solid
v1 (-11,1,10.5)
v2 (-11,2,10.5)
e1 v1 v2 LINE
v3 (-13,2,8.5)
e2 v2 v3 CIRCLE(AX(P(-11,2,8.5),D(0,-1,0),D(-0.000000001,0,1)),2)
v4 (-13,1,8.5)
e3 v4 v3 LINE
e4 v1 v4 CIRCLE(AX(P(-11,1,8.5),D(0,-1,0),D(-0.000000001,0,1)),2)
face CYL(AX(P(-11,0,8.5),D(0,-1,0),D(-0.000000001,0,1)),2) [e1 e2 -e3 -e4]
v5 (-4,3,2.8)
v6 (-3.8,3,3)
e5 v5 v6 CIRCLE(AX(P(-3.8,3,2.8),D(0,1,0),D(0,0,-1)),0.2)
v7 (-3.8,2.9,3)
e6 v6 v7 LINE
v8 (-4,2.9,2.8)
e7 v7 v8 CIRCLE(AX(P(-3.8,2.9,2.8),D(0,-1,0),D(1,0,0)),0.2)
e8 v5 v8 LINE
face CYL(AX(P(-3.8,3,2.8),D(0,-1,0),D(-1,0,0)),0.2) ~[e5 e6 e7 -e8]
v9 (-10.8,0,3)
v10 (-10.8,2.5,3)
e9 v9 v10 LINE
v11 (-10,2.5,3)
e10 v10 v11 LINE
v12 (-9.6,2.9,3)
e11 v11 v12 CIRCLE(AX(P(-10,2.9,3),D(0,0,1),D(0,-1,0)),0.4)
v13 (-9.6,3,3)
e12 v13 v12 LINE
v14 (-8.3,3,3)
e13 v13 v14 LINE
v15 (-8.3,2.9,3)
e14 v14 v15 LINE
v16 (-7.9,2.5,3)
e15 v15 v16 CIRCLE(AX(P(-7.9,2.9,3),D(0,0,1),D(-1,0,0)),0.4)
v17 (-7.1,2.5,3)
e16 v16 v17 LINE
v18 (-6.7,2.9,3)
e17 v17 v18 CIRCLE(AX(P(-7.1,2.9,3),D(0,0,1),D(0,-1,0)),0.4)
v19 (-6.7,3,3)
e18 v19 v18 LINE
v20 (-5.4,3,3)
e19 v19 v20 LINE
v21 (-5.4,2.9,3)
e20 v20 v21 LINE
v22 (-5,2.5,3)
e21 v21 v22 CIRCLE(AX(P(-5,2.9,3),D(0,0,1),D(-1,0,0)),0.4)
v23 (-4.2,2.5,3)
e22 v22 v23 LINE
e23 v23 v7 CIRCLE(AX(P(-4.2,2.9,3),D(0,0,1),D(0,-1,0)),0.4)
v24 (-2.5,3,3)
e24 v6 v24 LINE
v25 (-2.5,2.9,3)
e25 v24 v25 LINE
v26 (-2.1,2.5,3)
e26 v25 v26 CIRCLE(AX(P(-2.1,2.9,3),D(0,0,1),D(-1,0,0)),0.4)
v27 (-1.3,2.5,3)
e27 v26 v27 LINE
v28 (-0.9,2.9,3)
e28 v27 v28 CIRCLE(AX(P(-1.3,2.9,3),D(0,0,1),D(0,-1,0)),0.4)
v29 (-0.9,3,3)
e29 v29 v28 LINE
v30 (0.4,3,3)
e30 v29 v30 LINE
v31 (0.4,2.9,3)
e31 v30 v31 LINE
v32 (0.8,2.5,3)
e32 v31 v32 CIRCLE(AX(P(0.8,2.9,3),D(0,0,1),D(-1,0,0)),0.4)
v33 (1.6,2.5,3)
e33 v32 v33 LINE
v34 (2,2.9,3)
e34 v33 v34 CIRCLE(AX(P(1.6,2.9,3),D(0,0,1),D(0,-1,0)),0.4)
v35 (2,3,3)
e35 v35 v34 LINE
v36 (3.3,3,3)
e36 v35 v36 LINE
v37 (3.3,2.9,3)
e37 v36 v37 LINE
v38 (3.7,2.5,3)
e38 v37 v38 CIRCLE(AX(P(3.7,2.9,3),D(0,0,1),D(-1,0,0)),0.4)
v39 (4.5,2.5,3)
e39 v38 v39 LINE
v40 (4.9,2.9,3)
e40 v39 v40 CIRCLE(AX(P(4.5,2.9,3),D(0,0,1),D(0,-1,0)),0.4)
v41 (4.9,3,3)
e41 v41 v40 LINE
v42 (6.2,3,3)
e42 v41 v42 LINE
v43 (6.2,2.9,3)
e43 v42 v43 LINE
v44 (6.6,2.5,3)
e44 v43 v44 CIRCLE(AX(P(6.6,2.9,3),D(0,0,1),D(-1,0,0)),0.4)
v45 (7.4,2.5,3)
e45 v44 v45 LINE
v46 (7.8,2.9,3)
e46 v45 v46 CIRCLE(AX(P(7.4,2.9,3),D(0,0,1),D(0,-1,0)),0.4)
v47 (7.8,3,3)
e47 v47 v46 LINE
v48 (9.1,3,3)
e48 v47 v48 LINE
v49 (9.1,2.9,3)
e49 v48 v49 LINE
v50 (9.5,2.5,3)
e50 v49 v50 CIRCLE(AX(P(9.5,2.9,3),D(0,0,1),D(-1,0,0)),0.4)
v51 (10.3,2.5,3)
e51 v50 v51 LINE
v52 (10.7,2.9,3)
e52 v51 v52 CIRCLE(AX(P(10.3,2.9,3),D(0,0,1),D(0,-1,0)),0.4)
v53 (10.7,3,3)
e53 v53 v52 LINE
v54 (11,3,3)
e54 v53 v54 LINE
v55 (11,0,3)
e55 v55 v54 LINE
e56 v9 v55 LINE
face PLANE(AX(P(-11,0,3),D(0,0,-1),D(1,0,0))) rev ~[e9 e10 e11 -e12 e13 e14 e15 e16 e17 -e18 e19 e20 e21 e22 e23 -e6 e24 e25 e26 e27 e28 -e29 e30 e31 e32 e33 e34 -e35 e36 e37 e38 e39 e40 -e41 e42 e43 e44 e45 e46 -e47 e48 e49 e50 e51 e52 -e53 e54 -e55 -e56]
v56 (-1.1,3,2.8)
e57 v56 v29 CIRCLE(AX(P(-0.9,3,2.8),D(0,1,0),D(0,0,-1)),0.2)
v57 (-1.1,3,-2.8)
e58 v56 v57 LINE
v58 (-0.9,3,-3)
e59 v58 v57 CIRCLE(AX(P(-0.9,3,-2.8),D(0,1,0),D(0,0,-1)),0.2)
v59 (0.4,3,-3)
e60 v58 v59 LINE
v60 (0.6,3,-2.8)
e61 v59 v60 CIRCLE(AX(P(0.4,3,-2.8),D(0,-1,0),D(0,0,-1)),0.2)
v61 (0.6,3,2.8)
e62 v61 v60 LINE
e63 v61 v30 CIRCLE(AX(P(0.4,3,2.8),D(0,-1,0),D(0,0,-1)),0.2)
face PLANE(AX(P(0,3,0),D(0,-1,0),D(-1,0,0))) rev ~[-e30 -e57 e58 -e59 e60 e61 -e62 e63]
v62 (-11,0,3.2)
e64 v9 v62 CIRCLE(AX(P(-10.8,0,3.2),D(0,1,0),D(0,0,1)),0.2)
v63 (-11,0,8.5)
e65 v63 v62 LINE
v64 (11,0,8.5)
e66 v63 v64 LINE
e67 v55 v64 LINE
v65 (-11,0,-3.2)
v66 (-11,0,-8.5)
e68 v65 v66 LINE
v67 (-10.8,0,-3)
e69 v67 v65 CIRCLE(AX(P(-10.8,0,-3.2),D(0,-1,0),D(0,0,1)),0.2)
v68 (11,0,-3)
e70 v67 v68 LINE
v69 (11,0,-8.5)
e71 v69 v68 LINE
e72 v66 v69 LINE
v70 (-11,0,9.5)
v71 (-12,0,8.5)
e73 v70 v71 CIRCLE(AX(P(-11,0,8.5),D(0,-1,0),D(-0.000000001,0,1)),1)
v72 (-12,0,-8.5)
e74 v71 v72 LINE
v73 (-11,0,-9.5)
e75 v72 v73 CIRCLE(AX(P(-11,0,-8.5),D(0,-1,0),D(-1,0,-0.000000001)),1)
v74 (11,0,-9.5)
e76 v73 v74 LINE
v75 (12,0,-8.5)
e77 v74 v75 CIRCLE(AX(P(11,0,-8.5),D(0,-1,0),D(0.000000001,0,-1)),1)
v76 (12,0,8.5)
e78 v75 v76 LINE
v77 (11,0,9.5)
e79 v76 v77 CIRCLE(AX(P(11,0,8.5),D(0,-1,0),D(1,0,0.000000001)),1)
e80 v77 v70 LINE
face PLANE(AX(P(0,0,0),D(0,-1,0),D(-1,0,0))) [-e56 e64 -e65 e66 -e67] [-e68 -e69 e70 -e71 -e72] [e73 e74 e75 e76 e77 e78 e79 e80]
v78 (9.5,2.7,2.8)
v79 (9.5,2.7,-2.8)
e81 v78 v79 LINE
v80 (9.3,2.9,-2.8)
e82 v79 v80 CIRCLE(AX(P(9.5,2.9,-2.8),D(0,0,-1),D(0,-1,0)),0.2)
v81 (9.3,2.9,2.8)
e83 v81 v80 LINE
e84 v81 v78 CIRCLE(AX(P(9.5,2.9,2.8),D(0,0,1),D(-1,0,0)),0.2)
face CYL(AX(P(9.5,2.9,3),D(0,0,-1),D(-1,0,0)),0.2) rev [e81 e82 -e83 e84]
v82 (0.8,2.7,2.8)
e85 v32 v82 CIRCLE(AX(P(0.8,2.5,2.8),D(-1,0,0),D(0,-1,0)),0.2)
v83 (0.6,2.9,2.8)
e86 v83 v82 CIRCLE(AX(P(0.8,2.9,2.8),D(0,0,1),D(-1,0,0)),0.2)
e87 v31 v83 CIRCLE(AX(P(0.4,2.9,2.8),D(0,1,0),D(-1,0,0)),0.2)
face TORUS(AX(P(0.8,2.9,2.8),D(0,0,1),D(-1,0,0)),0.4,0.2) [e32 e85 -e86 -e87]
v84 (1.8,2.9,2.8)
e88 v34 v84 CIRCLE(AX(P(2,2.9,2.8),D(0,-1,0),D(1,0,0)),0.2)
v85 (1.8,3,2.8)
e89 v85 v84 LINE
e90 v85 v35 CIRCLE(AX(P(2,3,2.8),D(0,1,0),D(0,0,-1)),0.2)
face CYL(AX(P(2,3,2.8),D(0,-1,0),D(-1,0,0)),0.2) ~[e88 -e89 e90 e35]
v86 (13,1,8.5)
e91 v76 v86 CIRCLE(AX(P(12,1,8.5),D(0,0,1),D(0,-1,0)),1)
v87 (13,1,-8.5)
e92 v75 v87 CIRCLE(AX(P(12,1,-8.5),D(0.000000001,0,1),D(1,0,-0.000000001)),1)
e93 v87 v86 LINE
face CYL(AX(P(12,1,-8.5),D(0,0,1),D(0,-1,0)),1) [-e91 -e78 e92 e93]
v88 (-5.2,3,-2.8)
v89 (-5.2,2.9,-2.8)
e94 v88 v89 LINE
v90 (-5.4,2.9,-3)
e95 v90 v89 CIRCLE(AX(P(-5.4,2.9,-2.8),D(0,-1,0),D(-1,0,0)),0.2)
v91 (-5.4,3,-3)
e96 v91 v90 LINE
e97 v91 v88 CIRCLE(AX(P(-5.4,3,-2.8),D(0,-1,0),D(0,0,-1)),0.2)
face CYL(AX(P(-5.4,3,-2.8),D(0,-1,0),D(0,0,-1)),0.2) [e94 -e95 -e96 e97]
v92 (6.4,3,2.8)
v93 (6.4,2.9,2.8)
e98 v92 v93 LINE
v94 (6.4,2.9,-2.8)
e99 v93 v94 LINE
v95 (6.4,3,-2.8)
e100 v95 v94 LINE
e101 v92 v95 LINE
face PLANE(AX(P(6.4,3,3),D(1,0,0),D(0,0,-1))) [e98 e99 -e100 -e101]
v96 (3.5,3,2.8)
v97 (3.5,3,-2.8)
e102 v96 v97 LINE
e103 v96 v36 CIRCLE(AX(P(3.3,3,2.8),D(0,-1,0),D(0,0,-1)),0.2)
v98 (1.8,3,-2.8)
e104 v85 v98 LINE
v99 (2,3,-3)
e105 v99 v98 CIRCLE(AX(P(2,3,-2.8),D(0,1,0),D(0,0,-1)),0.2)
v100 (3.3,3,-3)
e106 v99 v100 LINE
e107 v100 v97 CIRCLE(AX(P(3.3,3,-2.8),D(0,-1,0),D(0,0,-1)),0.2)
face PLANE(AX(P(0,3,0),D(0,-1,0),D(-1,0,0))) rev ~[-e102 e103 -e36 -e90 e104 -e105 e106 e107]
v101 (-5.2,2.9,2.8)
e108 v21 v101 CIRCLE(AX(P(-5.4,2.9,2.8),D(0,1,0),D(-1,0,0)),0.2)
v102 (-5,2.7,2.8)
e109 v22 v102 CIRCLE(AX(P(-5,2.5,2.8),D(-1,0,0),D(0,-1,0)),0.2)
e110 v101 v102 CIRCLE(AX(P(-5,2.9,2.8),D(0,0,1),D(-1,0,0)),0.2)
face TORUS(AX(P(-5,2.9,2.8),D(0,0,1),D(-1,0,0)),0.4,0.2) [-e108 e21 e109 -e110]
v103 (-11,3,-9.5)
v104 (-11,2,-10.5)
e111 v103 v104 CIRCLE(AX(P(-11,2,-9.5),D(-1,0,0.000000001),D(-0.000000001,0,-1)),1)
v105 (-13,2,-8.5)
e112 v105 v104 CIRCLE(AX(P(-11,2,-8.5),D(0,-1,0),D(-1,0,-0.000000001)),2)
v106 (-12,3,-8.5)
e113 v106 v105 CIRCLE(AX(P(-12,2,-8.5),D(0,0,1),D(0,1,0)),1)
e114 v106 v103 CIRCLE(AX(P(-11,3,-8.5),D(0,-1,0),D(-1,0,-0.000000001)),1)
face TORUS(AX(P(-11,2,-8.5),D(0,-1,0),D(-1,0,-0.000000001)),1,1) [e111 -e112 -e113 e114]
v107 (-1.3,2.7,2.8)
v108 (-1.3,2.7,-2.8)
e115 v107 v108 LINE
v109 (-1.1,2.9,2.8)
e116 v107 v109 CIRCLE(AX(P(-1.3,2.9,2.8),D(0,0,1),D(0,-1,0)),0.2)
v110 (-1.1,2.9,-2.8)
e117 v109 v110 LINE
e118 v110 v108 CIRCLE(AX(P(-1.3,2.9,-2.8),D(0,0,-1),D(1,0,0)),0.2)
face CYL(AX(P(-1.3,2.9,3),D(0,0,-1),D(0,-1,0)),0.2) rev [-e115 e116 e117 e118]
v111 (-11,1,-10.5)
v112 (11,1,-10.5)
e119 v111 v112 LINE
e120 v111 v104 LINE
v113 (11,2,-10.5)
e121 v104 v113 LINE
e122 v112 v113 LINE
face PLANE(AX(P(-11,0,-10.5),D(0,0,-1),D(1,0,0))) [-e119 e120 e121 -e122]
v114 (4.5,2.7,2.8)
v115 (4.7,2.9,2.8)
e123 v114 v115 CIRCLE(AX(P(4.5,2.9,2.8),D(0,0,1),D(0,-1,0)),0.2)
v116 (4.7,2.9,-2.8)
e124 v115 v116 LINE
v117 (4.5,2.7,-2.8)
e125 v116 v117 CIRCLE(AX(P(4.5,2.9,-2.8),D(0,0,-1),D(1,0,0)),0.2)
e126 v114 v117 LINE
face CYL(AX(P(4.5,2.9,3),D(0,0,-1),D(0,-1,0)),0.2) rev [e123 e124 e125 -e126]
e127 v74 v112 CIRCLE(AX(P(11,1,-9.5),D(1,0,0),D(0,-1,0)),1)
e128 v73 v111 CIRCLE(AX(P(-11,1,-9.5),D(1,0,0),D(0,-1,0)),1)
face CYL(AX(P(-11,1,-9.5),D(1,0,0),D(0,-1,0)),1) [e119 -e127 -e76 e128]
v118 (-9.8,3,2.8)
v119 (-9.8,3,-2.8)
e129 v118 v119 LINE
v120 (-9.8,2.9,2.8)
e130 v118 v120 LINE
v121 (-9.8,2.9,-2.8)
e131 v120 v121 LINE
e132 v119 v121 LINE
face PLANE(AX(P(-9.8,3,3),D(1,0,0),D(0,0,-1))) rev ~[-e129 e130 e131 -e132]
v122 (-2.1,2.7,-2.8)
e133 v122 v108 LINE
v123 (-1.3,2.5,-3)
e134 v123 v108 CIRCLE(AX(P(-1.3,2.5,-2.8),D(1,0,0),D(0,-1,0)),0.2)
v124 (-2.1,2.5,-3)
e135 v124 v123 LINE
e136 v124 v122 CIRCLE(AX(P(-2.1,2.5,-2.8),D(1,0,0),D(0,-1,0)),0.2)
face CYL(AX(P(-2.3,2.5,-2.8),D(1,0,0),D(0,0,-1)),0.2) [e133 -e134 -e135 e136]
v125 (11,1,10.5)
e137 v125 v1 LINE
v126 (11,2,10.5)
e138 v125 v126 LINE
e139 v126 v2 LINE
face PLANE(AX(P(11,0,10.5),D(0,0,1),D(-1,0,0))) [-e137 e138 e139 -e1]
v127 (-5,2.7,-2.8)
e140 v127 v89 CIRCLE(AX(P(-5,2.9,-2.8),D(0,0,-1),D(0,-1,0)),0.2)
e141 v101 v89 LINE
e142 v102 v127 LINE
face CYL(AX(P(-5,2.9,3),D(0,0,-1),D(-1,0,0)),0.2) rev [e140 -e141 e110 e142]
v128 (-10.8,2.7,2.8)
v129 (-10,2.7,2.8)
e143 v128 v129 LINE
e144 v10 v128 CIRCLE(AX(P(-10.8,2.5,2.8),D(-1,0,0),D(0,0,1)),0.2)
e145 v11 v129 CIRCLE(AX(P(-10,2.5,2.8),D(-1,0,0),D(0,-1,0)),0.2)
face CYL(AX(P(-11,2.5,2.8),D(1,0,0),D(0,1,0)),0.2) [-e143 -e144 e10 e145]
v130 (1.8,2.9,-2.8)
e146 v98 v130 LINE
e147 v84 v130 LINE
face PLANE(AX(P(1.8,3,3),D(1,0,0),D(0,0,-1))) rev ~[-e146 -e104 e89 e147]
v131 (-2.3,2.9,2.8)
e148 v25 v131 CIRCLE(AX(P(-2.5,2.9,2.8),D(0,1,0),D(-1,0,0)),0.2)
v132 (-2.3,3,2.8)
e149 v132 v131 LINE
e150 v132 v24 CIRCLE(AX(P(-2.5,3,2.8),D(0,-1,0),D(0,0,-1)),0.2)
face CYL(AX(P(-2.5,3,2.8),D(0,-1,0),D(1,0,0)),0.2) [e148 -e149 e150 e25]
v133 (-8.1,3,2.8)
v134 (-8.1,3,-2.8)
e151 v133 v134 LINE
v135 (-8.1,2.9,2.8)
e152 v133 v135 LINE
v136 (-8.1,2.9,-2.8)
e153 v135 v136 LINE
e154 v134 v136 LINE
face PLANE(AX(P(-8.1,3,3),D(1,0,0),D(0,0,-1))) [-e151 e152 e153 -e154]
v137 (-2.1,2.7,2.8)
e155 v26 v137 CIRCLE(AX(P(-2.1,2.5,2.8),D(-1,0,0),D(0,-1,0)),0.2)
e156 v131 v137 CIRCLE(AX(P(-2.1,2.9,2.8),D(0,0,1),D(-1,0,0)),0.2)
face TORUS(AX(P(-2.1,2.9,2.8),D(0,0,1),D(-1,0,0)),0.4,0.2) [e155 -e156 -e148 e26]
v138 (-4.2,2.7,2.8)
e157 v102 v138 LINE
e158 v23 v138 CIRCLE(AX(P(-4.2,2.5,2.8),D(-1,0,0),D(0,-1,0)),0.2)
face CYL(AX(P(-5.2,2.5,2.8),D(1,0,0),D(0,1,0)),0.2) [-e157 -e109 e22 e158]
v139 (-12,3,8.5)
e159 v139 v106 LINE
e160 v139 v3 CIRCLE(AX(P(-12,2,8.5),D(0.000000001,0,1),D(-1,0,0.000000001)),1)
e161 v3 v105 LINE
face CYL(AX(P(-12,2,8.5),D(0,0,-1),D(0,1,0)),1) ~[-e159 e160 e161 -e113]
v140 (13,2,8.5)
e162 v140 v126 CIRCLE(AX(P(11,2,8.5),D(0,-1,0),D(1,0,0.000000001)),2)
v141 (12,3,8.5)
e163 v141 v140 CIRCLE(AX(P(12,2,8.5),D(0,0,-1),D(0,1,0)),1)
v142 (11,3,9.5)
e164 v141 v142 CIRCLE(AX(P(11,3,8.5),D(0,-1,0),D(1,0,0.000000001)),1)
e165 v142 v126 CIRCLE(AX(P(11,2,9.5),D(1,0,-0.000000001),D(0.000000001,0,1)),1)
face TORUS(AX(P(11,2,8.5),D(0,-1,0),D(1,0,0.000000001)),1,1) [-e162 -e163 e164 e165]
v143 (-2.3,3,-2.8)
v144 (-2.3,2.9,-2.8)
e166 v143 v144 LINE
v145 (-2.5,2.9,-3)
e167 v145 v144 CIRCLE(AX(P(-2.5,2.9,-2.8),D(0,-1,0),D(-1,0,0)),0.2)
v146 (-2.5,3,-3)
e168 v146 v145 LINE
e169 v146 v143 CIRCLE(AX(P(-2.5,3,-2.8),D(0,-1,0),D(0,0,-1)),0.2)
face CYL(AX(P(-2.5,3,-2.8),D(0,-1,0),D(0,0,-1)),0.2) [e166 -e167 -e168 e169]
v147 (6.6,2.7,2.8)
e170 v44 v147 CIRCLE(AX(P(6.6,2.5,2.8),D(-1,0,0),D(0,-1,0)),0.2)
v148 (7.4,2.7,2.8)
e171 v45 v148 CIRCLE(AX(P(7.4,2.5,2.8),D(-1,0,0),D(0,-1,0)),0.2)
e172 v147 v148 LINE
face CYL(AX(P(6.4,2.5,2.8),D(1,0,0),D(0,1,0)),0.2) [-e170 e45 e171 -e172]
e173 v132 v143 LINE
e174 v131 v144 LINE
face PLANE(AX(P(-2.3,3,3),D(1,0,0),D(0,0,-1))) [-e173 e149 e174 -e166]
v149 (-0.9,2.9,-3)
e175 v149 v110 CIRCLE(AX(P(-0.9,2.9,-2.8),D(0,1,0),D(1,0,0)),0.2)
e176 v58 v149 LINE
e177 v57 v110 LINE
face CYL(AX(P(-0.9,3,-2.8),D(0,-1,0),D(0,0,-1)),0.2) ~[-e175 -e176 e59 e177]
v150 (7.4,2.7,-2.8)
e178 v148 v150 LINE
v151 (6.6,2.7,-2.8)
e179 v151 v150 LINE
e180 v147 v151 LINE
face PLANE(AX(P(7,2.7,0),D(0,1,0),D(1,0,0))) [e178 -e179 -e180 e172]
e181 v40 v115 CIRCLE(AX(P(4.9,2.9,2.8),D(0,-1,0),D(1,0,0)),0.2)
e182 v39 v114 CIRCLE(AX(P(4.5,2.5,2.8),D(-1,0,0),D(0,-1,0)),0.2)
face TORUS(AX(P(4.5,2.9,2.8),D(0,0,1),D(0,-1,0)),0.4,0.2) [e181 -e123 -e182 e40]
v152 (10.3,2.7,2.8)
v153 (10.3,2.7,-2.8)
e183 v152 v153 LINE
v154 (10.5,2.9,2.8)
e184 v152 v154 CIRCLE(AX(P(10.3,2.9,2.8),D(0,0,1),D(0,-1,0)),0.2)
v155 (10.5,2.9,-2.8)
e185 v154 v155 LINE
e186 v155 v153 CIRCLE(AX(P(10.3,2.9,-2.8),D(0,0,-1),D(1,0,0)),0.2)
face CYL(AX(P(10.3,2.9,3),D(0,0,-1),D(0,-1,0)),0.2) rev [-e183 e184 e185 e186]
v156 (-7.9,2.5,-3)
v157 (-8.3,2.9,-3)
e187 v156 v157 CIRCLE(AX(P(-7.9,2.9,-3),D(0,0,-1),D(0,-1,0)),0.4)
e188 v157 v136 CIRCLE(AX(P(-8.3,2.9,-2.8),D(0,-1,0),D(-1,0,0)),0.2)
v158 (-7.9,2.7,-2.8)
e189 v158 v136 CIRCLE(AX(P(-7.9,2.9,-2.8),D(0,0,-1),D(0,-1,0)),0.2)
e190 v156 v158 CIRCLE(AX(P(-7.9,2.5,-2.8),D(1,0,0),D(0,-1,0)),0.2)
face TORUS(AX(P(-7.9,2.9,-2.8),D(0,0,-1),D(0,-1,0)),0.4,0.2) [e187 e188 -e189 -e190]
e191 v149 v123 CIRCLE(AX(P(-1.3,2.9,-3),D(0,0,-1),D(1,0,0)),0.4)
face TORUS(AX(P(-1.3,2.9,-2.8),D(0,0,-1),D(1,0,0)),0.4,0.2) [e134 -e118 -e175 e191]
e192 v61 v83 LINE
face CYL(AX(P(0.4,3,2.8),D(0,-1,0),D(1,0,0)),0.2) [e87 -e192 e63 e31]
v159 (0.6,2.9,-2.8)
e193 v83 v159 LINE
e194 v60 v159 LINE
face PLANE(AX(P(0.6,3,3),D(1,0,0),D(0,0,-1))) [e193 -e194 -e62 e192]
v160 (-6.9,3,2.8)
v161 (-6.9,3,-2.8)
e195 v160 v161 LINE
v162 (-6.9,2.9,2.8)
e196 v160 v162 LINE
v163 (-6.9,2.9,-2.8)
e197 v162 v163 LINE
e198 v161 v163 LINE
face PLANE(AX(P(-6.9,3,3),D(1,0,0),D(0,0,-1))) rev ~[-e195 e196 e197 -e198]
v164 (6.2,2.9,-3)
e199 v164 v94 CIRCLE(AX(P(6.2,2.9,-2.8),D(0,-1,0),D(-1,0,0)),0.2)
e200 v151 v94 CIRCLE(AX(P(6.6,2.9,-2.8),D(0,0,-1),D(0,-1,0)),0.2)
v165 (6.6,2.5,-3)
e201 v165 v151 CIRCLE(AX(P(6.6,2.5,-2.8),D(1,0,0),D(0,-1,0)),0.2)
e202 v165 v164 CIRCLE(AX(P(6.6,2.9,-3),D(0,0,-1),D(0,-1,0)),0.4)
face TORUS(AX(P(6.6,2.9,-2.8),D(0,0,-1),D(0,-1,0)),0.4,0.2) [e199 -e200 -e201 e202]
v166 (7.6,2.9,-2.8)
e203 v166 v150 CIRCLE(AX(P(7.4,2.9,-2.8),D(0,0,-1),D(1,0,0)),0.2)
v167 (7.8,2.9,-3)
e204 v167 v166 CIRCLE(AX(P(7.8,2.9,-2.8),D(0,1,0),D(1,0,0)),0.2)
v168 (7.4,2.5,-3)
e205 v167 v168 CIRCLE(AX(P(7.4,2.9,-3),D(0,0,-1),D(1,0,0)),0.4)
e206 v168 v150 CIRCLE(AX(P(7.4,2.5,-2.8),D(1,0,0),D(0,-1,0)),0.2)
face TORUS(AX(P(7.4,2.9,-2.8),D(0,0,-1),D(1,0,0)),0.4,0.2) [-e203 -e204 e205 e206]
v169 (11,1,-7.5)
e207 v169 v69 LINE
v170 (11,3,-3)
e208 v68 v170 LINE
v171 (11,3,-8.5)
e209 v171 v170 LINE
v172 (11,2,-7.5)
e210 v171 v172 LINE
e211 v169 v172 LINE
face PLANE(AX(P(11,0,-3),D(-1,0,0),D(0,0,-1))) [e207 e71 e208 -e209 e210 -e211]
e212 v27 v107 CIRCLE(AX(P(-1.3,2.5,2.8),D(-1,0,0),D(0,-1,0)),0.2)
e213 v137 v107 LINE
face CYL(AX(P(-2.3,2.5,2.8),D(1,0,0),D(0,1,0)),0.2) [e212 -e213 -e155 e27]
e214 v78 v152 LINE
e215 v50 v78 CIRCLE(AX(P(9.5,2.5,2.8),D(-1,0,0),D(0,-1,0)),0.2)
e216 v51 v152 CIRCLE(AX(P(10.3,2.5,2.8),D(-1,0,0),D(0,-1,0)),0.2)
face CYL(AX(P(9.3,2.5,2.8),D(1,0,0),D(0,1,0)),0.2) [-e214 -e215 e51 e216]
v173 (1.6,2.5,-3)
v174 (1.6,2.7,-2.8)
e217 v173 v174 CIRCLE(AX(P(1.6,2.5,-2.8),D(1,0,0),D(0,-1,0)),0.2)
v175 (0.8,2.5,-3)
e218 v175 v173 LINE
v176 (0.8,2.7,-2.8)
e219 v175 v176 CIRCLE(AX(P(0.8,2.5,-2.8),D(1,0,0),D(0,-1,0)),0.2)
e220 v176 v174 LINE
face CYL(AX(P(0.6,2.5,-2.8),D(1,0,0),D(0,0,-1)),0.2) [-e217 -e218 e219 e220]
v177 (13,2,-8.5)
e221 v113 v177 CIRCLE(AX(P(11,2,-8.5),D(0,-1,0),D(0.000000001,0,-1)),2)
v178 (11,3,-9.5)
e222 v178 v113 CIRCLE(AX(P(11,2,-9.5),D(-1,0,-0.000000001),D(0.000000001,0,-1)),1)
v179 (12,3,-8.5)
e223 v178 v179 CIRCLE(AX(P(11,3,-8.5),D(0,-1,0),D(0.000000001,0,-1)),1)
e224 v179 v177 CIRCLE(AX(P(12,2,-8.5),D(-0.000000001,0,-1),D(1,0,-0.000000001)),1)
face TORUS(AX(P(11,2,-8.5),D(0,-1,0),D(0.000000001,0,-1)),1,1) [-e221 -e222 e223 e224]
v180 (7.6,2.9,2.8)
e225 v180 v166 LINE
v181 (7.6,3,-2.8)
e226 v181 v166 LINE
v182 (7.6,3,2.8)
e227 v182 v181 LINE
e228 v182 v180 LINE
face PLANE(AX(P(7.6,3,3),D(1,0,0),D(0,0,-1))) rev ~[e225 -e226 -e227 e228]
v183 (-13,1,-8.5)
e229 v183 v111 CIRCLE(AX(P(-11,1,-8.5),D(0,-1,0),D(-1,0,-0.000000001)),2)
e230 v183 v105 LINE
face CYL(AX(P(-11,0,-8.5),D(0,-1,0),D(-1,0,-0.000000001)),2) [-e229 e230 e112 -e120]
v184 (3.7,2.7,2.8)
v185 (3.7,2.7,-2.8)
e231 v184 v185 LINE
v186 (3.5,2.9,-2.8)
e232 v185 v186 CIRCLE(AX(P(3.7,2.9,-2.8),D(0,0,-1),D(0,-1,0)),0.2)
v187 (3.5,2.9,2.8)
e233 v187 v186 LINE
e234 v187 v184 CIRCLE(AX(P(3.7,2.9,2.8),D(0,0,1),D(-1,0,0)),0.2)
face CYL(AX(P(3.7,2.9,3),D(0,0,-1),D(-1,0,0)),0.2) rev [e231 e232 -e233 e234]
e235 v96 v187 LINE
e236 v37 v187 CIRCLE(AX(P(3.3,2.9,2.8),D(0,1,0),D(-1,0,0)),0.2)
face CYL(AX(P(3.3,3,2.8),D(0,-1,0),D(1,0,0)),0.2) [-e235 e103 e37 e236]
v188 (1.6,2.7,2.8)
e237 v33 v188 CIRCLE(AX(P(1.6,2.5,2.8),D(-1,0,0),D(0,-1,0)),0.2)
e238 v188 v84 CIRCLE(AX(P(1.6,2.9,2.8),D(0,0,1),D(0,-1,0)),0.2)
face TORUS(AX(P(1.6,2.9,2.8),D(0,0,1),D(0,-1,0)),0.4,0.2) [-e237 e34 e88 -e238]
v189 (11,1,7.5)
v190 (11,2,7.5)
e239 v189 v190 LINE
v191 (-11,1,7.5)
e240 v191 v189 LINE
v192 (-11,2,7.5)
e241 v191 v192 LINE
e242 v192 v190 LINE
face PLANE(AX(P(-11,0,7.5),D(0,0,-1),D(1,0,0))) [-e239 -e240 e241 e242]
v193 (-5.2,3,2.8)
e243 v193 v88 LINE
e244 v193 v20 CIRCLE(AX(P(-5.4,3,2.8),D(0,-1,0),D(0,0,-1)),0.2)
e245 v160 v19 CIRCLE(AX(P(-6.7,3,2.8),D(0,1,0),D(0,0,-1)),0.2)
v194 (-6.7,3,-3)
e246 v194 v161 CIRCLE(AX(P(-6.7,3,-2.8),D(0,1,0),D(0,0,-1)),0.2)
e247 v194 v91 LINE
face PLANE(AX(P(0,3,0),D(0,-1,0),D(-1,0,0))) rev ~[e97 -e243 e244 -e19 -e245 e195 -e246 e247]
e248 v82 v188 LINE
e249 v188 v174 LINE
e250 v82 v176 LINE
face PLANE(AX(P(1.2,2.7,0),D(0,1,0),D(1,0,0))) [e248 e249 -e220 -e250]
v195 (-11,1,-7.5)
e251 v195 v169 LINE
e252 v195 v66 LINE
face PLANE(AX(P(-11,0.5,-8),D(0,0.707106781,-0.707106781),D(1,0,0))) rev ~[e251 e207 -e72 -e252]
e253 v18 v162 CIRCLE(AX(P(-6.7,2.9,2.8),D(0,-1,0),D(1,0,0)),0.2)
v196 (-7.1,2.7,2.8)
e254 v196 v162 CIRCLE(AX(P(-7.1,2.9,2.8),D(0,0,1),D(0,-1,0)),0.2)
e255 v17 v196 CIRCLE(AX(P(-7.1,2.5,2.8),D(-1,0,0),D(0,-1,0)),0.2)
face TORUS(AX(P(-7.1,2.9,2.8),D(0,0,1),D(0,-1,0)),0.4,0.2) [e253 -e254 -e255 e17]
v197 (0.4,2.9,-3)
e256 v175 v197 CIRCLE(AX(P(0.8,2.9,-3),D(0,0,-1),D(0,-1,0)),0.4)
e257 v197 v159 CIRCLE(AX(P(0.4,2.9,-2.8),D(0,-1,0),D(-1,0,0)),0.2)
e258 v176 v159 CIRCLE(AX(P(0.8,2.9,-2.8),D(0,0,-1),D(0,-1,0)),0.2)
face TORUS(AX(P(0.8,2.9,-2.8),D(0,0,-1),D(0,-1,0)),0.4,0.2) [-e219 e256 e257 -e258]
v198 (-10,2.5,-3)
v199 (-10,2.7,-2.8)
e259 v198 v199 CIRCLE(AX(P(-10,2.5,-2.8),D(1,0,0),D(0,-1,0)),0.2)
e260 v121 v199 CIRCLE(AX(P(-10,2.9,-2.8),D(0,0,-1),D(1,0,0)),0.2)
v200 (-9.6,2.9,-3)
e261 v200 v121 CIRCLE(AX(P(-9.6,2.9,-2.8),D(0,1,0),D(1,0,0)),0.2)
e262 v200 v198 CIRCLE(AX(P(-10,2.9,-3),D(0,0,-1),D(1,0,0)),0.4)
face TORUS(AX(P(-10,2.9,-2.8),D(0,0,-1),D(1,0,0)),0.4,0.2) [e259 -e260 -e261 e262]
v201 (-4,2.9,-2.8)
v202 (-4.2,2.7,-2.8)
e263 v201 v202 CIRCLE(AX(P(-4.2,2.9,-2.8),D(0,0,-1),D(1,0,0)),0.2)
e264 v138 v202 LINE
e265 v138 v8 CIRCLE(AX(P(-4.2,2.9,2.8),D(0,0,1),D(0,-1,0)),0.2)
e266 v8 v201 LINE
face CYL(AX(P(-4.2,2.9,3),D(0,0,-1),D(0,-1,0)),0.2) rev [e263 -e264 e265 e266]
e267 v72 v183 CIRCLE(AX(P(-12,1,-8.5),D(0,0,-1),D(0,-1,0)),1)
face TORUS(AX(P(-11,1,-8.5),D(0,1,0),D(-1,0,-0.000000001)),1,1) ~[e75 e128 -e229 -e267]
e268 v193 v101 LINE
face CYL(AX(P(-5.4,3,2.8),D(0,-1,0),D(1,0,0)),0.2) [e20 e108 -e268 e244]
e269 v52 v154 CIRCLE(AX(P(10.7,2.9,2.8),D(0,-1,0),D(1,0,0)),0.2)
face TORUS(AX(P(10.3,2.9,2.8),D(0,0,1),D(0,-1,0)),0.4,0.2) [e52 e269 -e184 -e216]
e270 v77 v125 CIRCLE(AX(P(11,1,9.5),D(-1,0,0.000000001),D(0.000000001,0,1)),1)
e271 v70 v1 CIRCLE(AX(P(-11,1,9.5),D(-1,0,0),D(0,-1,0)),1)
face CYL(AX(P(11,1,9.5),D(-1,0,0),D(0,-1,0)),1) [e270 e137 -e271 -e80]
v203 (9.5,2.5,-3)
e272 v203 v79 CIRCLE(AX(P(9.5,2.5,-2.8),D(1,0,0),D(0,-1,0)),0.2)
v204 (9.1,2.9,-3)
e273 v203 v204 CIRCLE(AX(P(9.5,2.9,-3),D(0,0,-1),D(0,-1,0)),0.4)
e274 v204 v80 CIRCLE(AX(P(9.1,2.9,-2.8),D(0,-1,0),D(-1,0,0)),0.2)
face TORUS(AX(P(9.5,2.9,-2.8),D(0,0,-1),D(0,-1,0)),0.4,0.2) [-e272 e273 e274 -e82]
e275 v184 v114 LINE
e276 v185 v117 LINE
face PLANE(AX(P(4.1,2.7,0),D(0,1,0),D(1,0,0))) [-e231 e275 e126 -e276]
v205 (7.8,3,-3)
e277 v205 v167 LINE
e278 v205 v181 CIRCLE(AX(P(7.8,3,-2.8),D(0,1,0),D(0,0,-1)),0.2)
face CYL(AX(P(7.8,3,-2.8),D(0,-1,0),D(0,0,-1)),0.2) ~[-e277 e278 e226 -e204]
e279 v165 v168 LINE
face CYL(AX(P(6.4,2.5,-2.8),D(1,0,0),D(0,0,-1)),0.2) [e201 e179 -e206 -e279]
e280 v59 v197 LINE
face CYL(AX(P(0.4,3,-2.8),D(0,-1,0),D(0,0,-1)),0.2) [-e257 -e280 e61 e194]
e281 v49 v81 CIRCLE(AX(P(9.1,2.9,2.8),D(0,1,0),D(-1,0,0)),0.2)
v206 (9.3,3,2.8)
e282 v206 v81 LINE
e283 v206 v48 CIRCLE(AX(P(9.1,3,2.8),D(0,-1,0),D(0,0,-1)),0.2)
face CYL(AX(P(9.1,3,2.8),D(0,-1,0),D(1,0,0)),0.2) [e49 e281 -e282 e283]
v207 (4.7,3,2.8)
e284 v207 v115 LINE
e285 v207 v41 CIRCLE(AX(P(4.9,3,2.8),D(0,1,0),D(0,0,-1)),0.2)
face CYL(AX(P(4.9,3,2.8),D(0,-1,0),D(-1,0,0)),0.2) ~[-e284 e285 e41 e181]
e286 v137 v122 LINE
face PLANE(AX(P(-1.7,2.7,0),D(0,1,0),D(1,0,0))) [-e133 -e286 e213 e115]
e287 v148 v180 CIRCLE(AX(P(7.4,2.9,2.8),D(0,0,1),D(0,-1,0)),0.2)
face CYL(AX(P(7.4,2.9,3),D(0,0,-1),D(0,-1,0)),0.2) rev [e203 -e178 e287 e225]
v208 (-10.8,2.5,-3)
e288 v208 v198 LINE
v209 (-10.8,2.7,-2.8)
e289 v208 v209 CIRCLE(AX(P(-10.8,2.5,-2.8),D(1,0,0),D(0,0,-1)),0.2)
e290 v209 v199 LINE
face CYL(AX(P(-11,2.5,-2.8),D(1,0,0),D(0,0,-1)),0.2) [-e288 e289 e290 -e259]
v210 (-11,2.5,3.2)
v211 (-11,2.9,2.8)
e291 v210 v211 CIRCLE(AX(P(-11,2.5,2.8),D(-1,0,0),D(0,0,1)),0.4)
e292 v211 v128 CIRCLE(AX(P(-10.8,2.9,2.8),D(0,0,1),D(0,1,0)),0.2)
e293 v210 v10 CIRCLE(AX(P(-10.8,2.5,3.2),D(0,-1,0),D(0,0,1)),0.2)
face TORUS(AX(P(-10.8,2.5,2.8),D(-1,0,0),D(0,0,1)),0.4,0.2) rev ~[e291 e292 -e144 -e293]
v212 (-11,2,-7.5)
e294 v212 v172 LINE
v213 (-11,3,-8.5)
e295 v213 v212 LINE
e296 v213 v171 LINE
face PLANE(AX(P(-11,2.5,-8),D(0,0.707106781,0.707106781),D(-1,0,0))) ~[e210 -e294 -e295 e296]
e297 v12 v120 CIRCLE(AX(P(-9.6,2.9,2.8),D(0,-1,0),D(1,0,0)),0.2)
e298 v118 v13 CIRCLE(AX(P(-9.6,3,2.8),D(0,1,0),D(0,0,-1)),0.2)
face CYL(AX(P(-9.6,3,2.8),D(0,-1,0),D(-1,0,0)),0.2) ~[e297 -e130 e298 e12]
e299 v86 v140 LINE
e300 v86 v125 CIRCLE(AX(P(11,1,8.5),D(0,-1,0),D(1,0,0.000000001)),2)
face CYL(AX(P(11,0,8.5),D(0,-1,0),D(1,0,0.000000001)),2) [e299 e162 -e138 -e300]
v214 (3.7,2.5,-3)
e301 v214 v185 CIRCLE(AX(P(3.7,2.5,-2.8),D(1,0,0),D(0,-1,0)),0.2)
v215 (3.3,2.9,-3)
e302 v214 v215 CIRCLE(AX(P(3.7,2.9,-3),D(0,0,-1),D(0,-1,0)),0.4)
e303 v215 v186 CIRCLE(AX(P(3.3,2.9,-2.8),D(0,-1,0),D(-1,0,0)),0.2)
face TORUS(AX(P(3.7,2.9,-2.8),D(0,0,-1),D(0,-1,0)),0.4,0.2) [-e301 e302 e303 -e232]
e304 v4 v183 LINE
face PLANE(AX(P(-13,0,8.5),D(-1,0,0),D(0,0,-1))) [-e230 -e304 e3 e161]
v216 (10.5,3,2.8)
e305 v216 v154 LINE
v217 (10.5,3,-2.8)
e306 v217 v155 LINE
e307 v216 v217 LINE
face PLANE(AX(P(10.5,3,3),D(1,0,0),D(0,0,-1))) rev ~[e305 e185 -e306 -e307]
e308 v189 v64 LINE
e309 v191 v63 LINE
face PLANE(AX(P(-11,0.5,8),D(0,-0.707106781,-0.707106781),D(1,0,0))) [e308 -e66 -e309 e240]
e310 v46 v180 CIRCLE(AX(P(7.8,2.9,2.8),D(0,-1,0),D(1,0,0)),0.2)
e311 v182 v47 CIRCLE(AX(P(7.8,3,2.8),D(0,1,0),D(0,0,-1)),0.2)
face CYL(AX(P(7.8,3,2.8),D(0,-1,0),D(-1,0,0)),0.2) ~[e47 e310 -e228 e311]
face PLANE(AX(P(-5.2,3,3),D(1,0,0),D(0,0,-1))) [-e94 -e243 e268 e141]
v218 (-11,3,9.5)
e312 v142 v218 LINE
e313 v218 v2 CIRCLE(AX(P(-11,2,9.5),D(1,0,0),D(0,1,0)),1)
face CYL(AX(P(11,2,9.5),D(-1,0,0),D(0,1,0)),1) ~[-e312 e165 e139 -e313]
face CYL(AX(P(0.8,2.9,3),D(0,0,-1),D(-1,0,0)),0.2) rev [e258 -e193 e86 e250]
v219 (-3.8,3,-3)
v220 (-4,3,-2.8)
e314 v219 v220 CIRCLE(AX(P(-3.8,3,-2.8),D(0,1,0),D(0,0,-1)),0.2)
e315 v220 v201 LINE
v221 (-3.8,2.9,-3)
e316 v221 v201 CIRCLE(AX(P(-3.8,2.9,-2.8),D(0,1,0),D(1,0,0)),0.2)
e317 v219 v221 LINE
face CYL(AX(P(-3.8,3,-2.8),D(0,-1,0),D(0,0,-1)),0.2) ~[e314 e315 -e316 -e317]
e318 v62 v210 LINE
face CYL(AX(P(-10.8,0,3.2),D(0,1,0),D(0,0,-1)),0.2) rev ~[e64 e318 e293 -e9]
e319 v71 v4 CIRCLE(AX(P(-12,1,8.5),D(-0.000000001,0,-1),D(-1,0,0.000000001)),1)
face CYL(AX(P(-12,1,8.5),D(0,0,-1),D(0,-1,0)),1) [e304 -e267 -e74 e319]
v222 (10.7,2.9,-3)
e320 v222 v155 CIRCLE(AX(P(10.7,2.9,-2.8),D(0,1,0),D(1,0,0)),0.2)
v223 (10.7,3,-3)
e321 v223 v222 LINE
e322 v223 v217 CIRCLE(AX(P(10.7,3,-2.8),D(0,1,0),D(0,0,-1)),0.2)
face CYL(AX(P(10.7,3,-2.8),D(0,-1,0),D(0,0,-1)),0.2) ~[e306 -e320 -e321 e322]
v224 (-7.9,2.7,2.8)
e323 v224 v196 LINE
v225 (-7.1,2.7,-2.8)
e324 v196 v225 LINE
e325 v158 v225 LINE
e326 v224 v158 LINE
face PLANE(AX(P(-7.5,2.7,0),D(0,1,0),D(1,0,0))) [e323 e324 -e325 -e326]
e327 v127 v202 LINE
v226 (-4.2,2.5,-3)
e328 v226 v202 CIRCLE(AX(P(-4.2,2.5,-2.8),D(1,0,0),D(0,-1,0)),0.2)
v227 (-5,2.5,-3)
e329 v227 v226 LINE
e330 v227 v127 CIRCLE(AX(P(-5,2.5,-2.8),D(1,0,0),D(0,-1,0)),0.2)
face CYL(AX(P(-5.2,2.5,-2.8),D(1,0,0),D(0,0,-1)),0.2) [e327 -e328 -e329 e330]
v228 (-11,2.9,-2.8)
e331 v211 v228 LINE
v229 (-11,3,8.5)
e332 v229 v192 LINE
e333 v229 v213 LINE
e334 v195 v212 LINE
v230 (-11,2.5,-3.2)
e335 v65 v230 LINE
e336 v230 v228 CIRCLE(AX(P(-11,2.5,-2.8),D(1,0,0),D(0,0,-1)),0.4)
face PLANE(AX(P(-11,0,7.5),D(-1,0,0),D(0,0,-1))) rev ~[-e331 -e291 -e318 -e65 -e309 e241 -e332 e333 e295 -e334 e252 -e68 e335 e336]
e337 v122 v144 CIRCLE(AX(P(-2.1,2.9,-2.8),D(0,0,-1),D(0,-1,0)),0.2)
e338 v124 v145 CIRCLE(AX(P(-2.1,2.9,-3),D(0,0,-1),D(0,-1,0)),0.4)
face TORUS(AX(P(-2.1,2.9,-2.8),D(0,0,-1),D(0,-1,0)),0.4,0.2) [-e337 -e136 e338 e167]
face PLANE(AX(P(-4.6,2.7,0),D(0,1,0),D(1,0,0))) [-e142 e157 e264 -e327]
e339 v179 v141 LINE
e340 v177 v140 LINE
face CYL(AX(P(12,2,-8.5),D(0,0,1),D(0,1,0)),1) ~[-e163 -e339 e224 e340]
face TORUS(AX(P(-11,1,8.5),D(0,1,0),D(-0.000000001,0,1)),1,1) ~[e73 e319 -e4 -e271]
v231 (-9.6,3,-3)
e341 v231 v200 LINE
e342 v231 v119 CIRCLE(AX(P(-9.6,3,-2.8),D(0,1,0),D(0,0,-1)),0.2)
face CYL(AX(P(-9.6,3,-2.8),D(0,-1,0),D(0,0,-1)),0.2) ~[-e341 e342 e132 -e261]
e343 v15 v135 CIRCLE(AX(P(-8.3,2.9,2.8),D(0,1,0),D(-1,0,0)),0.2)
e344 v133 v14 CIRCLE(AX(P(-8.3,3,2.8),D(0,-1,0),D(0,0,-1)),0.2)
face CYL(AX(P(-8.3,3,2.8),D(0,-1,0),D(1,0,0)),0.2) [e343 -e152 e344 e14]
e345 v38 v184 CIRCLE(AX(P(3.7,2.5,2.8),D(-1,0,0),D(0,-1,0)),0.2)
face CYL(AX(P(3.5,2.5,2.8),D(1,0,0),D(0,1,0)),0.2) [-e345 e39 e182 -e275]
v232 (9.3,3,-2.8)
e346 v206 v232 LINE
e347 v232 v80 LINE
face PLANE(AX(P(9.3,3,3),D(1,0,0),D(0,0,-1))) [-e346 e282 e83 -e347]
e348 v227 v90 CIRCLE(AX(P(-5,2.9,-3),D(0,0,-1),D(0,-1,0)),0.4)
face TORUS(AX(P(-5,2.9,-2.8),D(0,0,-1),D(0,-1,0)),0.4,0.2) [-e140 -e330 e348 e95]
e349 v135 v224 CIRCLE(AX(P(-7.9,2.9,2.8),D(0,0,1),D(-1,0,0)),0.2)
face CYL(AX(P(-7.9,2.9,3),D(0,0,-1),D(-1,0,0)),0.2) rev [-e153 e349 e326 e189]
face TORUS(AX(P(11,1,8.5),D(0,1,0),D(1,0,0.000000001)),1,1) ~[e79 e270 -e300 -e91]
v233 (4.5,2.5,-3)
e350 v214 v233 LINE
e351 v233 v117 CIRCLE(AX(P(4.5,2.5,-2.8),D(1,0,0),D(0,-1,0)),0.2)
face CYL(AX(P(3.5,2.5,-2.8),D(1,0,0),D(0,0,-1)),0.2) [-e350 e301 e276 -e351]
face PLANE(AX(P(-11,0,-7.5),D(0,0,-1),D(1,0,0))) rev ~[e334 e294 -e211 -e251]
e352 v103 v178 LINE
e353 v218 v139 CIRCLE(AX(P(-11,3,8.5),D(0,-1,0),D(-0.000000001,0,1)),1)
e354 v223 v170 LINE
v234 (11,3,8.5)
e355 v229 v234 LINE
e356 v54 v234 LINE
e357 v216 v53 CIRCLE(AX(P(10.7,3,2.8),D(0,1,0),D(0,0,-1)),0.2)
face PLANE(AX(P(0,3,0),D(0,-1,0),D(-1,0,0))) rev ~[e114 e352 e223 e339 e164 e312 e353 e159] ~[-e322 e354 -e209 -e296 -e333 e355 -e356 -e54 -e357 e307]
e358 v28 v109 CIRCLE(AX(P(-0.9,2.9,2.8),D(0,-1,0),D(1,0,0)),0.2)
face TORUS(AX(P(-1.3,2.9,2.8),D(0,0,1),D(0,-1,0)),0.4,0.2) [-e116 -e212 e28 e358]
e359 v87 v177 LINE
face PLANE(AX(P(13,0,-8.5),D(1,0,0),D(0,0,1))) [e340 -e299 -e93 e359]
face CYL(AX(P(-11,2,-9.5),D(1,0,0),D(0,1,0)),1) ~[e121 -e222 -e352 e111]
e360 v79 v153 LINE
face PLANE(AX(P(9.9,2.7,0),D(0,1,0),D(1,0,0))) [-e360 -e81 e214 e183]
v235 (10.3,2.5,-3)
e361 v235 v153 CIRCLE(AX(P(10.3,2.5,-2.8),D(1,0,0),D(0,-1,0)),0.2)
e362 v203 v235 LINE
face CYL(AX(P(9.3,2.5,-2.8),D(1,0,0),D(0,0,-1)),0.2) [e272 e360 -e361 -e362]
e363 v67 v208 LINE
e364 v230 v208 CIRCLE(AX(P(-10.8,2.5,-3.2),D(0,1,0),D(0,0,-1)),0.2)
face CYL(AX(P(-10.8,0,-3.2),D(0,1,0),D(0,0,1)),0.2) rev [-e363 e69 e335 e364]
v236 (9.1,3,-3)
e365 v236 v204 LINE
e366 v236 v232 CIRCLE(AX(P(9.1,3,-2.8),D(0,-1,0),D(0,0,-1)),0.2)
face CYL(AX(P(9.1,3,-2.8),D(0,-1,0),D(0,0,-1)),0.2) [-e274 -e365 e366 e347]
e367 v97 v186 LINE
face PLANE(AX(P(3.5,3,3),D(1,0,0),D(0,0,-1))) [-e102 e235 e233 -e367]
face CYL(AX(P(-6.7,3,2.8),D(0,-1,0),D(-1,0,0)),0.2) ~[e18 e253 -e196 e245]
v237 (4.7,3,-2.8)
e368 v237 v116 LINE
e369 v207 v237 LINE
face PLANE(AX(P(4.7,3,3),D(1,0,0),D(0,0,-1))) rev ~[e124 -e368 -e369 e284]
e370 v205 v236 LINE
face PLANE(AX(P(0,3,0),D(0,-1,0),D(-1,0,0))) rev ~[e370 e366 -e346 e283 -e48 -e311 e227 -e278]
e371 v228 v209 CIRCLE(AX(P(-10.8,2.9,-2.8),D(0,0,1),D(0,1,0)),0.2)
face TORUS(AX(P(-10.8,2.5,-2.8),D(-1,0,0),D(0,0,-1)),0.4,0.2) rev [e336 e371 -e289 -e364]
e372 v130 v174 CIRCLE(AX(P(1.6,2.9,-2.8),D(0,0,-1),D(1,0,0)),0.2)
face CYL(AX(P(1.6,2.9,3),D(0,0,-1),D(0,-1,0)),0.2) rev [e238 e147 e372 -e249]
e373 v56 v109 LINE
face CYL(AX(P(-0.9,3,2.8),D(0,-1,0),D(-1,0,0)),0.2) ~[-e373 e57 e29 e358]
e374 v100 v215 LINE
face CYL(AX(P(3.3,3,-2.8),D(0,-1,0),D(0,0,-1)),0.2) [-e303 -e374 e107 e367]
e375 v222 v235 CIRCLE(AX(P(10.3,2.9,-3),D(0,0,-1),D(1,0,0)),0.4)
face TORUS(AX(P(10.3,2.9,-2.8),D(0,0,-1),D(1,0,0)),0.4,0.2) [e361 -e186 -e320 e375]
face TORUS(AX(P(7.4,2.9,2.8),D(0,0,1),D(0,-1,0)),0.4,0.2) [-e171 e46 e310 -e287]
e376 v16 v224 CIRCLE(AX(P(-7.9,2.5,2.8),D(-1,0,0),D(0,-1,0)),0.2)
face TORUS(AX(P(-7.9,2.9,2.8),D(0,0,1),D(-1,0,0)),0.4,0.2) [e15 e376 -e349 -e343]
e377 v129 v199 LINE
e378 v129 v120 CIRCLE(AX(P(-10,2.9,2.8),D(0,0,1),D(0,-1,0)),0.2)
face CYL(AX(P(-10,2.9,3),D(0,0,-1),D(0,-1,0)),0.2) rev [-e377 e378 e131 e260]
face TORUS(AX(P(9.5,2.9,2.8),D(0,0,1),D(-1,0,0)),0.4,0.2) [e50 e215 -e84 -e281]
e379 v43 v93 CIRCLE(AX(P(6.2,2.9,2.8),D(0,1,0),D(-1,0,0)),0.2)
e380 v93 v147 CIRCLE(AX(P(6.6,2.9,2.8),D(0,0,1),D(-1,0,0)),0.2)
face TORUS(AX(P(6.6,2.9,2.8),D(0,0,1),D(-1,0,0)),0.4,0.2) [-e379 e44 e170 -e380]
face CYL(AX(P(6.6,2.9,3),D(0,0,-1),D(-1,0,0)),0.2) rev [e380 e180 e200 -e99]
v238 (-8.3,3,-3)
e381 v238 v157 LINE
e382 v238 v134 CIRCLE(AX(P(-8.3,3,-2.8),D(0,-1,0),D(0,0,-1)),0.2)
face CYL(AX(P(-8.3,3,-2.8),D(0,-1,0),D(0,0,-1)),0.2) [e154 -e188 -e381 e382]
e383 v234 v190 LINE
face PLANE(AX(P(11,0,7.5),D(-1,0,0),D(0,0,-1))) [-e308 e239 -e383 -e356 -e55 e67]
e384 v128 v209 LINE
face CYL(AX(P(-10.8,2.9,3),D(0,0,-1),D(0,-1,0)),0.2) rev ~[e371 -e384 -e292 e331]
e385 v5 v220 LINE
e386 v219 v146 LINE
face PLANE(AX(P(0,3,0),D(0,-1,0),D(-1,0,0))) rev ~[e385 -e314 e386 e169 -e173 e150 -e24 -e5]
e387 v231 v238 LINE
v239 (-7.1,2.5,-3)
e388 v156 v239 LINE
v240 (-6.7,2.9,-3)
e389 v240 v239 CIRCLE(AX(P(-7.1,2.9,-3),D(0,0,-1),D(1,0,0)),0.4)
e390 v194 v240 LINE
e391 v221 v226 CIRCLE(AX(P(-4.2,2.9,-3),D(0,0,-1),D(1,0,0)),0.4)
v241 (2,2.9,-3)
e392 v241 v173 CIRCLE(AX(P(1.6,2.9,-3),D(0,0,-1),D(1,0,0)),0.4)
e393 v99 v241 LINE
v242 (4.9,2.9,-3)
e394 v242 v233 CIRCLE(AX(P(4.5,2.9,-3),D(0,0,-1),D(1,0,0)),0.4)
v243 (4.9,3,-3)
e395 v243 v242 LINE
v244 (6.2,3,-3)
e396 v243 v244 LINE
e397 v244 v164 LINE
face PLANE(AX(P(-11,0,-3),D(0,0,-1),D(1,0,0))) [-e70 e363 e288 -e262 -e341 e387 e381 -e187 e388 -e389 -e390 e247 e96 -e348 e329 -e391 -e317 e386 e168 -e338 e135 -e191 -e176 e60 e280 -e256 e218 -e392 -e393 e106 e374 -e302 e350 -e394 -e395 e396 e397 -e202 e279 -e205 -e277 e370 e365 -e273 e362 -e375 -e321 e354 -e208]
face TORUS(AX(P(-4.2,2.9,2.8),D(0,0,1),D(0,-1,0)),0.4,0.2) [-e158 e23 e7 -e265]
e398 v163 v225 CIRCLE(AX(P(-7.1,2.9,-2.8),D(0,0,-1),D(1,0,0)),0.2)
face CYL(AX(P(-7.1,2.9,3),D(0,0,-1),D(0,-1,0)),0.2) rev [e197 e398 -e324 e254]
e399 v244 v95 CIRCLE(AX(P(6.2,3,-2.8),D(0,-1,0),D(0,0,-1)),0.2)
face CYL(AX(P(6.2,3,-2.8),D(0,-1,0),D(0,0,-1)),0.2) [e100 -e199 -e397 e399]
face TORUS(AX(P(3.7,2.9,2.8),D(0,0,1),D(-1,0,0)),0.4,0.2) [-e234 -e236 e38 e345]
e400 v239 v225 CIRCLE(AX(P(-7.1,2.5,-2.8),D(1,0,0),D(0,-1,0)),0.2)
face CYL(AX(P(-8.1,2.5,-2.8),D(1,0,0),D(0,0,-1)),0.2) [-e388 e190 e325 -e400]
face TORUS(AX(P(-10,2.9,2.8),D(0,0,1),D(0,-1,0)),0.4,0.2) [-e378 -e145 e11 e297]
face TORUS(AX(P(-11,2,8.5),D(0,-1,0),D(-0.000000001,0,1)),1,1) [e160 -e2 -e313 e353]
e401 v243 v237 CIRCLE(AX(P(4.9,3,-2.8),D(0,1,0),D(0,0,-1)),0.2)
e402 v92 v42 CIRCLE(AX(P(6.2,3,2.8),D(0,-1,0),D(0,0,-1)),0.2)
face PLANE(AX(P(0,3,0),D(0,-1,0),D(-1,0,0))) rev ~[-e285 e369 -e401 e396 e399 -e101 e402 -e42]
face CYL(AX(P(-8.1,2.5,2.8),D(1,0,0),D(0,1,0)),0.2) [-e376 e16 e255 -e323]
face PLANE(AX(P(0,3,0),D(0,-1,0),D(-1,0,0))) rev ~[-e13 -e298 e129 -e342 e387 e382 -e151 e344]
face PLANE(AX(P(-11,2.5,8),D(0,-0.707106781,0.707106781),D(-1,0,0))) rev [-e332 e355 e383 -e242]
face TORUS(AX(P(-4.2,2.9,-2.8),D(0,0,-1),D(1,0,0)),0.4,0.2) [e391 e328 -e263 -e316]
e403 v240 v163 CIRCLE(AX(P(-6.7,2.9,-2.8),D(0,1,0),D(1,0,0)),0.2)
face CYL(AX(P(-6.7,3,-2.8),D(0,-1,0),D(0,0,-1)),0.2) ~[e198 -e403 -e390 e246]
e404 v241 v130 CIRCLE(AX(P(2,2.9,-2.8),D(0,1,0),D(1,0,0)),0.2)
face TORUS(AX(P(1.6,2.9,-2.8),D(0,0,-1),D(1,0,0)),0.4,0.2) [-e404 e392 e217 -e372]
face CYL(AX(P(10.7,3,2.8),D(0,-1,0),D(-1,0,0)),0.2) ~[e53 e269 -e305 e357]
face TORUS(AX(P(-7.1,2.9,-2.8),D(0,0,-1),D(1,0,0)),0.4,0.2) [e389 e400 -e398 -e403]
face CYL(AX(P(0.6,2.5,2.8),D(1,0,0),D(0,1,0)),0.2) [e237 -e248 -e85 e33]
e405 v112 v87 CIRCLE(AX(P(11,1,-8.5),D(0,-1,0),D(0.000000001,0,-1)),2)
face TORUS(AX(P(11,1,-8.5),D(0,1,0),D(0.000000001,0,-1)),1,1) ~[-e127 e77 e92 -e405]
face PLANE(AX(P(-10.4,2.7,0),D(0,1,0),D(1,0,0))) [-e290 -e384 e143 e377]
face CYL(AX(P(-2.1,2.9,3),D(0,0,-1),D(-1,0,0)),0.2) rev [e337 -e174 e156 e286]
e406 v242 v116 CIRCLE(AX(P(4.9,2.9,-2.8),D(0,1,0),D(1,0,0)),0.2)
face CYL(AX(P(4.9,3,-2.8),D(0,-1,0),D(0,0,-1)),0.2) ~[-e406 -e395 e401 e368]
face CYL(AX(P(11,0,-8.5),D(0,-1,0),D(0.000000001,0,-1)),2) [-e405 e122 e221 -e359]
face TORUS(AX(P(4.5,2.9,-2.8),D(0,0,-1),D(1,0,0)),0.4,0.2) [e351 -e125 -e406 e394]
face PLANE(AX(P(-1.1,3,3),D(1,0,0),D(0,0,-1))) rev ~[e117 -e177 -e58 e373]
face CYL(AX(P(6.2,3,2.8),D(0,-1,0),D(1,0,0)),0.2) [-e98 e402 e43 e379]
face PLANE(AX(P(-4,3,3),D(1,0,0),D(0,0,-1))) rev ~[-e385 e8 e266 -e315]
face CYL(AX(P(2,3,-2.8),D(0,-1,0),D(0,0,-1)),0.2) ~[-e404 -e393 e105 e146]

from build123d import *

# Parameters (mm, degrees)
SKETCH_1_W          = 22
SKETCH_1_H          = 4.5
EXTRUDE_1_DEPTH     = 3
SKETCH_3_W          = 1.2
SKETCH_3_H          = 6
CUT_EXTRUDE_1_DEPTH = 0.3
FILLET_1_R          = 0.2
CHAMFER_1_SIZE      = 1
FILLET_2_R          = 1


with BuildPart() as part:
    # 草图1 → 凸台-拉伸1 (new body)
    with BuildSketch(Plane(origin=(0, 0, 0), x_dir=(1, 0, 0), z_dir=(0, 1, 0))):
        with BuildLine():
            Line((-11, 10.5), (11, 10.5))
            ThreePointArc((11, 10.5), (12.414213562, 9.914213562), (13, 8.5))
            Line((13, 8.5), (13, -8.5))
            ThreePointArc((13, -8.5), (12.414213562, -9.914213562), (11, -10.5))
            Line((11, -10.5), (-11, -10.5))
            ThreePointArc((-11, -10.5), (-12.414213562, -9.914213562), (-13, -8.5))
            Line((-13, -8.5), (-13, 8.5))
            ThreePointArc((-13, 8.5), (-12.414213562, 9.914213562), (-11, 10.5))
        make_face()
        with Locations((0, -5.25)):
            Rectangle(SKETCH_1_W, SKETCH_1_H, mode=Mode.SUBTRACT)
        with Locations((0, 5.25)):
            Rectangle(SKETCH_1_W, SKETCH_1_H, mode=Mode.SUBTRACT)
    extrude(amount=EXTRUDE_1_DEPTH)

    # 草图3 → 切除-拉伸1 (cut)
    with BuildSketch(Plane(origin=(0, 3, 0), x_dir=(1, 0, 0), z_dir=(0, 1, 0))):
        with Locations((-10.4, 0)):
            Rectangle(SKETCH_3_W, SKETCH_3_H)
        with Locations((-7.5, 0)):
            Rectangle(SKETCH_3_W, SKETCH_3_H)
        with Locations((-4.6, 0)):
            Rectangle(SKETCH_3_W, SKETCH_3_H)
        with Locations((-1.7, 0)):
            Rectangle(SKETCH_3_W, SKETCH_3_H)
        with Locations((1.2, 0)):
            Rectangle(SKETCH_3_W, SKETCH_3_H)
        with Locations((4.1, 0)):
            Rectangle(SKETCH_3_W, SKETCH_3_H)
        with Locations((7, 0)):
            Rectangle(SKETCH_3_W, SKETCH_3_H)
        with Locations((9.9, 0)):
            Rectangle(SKETCH_3_W, SKETCH_3_H)
    extrude(amount=-CUT_EXTRUDE_1_DEPTH, mode=Mode.SUBTRACT)

    # 圆角1
    fillet_1_edges = [part.edges().sort_by_distance(p)[0] for p in [
        (-8.1, 2.7, 0),
        (-8.1, 2.85, 3),
        (-7.5, 2.7, -3),
        (-8.1, 2.85, -3),
        (-6.9, 2.7, 0),
        (-6.9, 2.85, -3),
        (-7.5, 2.7, 3),
        (-6.9, 2.85, 3),
        (-5.2, 2.7, 0),
        (-5.2, 2.85, 3),
        (-4.6, 2.7, -3),
        (-5.2, 2.85, -3),
        (-4, 2.7, 0),
        (-4, 2.85, -3),
        (-4.6, 2.7, 3),
        (-4, 2.85, 3),
        (-2.3, 2.7, 0),
        (-2.3, 2.85, 3),
        (-1.7, 2.7, -3),
        (-2.3, 2.85, -3),
        (-1.1, 2.7, 0),
        (-1.1, 2.85, -3),
        (-1.7, 2.7, 3),
        (-1.1, 2.85, 3),
        (0.6, 2.7, 0),
        (0.6, 2.85, 3),
        (1.2, 2.7, -3),
        (0.6, 2.85, -3),
        (1.8, 2.7, 0),
        (1.8, 2.85, -3),
        (1.2, 2.7, 3),
        (1.8, 2.85, 3),
        (3.5, 2.7, 0),
        (3.5, 2.85, 3),
        (4.1, 2.7, -3),
        (3.5, 2.85, -3),
        (4.7, 2.7, 0),
        (4.7, 2.85, -3),
        (4.1, 2.7, 3),
        (4.7, 2.85, 3),
        (6.4, 2.7, 0),
        (6.4, 2.85, 3),
        (7, 2.7, -3),
        (6.4, 2.85, -3),
        (7.6, 2.7, 0),
        (7.6, 2.85, -3),
        (7, 2.7, 3),
        (7.6, 2.85, 3),
        (9.3, 2.7, 0),
        (9.3, 2.85, 3),
        (9.9, 2.7, -3),
        (9.3, 2.85, -3),
        (10.5, 2.7, 0),
        (10.5, 2.85, -3),
        (9.9, 2.7, 3),
        (10.5, 2.85, 3),
        (-11, 1.35, 3),
        (-11, 1.35, -3),
        (-11, 2.7, 0),
        (-10.4, 2.7, -3),
        (-9.8, 2.7, 0),
        (-9.8, 2.85, -3),
        (-10.4, 2.7, 3),
        (-9.8, 2.85, 3),
    ]]
    fillet(fillet_1_edges, radius=FILLET_1_R)

    # 倒角1
    chamfer_1_edges = [part.edges().sort_by_distance(p)[0] for p in [
        (0, 0, -7.5),
        (0, 3, -7.5),
        (0, 0, 7.5),
        (0, 3, 7.5),
    ]]
    chamfer(chamfer_1_edges, length=CHAMFER_1_SIZE)

    # 圆角2
    fillet_2_edges = [part.edges().sort_by_distance(p)[0] for p in [
        (0, 0, -10.5),
        (12.414213562, 0, -9.914213562),
        (13, 0, 0),
        (12.414213562, 0, 9.914213562),
        (12.414213562, 3, -9.914213562),
        (0, 3, -10.5),
        (-12.414213562, 3, -9.914213562),
        (-13, 3, 0),
        (-12.414213562, 3, 9.914213562),
        (0, 3, 10.5),
        (12.414213562, 3, 9.914213562),
        (0, 0, 10.5),
        (13, 3, 0),
        (-12.414213562, 0, 9.914213562),
        (-13, 0, 0),
        (-12.414213562, 0, -9.914213562),
    ]]
    fillet(fillet_2_edges, radius=FILLET_2_R)


solid = part.part
